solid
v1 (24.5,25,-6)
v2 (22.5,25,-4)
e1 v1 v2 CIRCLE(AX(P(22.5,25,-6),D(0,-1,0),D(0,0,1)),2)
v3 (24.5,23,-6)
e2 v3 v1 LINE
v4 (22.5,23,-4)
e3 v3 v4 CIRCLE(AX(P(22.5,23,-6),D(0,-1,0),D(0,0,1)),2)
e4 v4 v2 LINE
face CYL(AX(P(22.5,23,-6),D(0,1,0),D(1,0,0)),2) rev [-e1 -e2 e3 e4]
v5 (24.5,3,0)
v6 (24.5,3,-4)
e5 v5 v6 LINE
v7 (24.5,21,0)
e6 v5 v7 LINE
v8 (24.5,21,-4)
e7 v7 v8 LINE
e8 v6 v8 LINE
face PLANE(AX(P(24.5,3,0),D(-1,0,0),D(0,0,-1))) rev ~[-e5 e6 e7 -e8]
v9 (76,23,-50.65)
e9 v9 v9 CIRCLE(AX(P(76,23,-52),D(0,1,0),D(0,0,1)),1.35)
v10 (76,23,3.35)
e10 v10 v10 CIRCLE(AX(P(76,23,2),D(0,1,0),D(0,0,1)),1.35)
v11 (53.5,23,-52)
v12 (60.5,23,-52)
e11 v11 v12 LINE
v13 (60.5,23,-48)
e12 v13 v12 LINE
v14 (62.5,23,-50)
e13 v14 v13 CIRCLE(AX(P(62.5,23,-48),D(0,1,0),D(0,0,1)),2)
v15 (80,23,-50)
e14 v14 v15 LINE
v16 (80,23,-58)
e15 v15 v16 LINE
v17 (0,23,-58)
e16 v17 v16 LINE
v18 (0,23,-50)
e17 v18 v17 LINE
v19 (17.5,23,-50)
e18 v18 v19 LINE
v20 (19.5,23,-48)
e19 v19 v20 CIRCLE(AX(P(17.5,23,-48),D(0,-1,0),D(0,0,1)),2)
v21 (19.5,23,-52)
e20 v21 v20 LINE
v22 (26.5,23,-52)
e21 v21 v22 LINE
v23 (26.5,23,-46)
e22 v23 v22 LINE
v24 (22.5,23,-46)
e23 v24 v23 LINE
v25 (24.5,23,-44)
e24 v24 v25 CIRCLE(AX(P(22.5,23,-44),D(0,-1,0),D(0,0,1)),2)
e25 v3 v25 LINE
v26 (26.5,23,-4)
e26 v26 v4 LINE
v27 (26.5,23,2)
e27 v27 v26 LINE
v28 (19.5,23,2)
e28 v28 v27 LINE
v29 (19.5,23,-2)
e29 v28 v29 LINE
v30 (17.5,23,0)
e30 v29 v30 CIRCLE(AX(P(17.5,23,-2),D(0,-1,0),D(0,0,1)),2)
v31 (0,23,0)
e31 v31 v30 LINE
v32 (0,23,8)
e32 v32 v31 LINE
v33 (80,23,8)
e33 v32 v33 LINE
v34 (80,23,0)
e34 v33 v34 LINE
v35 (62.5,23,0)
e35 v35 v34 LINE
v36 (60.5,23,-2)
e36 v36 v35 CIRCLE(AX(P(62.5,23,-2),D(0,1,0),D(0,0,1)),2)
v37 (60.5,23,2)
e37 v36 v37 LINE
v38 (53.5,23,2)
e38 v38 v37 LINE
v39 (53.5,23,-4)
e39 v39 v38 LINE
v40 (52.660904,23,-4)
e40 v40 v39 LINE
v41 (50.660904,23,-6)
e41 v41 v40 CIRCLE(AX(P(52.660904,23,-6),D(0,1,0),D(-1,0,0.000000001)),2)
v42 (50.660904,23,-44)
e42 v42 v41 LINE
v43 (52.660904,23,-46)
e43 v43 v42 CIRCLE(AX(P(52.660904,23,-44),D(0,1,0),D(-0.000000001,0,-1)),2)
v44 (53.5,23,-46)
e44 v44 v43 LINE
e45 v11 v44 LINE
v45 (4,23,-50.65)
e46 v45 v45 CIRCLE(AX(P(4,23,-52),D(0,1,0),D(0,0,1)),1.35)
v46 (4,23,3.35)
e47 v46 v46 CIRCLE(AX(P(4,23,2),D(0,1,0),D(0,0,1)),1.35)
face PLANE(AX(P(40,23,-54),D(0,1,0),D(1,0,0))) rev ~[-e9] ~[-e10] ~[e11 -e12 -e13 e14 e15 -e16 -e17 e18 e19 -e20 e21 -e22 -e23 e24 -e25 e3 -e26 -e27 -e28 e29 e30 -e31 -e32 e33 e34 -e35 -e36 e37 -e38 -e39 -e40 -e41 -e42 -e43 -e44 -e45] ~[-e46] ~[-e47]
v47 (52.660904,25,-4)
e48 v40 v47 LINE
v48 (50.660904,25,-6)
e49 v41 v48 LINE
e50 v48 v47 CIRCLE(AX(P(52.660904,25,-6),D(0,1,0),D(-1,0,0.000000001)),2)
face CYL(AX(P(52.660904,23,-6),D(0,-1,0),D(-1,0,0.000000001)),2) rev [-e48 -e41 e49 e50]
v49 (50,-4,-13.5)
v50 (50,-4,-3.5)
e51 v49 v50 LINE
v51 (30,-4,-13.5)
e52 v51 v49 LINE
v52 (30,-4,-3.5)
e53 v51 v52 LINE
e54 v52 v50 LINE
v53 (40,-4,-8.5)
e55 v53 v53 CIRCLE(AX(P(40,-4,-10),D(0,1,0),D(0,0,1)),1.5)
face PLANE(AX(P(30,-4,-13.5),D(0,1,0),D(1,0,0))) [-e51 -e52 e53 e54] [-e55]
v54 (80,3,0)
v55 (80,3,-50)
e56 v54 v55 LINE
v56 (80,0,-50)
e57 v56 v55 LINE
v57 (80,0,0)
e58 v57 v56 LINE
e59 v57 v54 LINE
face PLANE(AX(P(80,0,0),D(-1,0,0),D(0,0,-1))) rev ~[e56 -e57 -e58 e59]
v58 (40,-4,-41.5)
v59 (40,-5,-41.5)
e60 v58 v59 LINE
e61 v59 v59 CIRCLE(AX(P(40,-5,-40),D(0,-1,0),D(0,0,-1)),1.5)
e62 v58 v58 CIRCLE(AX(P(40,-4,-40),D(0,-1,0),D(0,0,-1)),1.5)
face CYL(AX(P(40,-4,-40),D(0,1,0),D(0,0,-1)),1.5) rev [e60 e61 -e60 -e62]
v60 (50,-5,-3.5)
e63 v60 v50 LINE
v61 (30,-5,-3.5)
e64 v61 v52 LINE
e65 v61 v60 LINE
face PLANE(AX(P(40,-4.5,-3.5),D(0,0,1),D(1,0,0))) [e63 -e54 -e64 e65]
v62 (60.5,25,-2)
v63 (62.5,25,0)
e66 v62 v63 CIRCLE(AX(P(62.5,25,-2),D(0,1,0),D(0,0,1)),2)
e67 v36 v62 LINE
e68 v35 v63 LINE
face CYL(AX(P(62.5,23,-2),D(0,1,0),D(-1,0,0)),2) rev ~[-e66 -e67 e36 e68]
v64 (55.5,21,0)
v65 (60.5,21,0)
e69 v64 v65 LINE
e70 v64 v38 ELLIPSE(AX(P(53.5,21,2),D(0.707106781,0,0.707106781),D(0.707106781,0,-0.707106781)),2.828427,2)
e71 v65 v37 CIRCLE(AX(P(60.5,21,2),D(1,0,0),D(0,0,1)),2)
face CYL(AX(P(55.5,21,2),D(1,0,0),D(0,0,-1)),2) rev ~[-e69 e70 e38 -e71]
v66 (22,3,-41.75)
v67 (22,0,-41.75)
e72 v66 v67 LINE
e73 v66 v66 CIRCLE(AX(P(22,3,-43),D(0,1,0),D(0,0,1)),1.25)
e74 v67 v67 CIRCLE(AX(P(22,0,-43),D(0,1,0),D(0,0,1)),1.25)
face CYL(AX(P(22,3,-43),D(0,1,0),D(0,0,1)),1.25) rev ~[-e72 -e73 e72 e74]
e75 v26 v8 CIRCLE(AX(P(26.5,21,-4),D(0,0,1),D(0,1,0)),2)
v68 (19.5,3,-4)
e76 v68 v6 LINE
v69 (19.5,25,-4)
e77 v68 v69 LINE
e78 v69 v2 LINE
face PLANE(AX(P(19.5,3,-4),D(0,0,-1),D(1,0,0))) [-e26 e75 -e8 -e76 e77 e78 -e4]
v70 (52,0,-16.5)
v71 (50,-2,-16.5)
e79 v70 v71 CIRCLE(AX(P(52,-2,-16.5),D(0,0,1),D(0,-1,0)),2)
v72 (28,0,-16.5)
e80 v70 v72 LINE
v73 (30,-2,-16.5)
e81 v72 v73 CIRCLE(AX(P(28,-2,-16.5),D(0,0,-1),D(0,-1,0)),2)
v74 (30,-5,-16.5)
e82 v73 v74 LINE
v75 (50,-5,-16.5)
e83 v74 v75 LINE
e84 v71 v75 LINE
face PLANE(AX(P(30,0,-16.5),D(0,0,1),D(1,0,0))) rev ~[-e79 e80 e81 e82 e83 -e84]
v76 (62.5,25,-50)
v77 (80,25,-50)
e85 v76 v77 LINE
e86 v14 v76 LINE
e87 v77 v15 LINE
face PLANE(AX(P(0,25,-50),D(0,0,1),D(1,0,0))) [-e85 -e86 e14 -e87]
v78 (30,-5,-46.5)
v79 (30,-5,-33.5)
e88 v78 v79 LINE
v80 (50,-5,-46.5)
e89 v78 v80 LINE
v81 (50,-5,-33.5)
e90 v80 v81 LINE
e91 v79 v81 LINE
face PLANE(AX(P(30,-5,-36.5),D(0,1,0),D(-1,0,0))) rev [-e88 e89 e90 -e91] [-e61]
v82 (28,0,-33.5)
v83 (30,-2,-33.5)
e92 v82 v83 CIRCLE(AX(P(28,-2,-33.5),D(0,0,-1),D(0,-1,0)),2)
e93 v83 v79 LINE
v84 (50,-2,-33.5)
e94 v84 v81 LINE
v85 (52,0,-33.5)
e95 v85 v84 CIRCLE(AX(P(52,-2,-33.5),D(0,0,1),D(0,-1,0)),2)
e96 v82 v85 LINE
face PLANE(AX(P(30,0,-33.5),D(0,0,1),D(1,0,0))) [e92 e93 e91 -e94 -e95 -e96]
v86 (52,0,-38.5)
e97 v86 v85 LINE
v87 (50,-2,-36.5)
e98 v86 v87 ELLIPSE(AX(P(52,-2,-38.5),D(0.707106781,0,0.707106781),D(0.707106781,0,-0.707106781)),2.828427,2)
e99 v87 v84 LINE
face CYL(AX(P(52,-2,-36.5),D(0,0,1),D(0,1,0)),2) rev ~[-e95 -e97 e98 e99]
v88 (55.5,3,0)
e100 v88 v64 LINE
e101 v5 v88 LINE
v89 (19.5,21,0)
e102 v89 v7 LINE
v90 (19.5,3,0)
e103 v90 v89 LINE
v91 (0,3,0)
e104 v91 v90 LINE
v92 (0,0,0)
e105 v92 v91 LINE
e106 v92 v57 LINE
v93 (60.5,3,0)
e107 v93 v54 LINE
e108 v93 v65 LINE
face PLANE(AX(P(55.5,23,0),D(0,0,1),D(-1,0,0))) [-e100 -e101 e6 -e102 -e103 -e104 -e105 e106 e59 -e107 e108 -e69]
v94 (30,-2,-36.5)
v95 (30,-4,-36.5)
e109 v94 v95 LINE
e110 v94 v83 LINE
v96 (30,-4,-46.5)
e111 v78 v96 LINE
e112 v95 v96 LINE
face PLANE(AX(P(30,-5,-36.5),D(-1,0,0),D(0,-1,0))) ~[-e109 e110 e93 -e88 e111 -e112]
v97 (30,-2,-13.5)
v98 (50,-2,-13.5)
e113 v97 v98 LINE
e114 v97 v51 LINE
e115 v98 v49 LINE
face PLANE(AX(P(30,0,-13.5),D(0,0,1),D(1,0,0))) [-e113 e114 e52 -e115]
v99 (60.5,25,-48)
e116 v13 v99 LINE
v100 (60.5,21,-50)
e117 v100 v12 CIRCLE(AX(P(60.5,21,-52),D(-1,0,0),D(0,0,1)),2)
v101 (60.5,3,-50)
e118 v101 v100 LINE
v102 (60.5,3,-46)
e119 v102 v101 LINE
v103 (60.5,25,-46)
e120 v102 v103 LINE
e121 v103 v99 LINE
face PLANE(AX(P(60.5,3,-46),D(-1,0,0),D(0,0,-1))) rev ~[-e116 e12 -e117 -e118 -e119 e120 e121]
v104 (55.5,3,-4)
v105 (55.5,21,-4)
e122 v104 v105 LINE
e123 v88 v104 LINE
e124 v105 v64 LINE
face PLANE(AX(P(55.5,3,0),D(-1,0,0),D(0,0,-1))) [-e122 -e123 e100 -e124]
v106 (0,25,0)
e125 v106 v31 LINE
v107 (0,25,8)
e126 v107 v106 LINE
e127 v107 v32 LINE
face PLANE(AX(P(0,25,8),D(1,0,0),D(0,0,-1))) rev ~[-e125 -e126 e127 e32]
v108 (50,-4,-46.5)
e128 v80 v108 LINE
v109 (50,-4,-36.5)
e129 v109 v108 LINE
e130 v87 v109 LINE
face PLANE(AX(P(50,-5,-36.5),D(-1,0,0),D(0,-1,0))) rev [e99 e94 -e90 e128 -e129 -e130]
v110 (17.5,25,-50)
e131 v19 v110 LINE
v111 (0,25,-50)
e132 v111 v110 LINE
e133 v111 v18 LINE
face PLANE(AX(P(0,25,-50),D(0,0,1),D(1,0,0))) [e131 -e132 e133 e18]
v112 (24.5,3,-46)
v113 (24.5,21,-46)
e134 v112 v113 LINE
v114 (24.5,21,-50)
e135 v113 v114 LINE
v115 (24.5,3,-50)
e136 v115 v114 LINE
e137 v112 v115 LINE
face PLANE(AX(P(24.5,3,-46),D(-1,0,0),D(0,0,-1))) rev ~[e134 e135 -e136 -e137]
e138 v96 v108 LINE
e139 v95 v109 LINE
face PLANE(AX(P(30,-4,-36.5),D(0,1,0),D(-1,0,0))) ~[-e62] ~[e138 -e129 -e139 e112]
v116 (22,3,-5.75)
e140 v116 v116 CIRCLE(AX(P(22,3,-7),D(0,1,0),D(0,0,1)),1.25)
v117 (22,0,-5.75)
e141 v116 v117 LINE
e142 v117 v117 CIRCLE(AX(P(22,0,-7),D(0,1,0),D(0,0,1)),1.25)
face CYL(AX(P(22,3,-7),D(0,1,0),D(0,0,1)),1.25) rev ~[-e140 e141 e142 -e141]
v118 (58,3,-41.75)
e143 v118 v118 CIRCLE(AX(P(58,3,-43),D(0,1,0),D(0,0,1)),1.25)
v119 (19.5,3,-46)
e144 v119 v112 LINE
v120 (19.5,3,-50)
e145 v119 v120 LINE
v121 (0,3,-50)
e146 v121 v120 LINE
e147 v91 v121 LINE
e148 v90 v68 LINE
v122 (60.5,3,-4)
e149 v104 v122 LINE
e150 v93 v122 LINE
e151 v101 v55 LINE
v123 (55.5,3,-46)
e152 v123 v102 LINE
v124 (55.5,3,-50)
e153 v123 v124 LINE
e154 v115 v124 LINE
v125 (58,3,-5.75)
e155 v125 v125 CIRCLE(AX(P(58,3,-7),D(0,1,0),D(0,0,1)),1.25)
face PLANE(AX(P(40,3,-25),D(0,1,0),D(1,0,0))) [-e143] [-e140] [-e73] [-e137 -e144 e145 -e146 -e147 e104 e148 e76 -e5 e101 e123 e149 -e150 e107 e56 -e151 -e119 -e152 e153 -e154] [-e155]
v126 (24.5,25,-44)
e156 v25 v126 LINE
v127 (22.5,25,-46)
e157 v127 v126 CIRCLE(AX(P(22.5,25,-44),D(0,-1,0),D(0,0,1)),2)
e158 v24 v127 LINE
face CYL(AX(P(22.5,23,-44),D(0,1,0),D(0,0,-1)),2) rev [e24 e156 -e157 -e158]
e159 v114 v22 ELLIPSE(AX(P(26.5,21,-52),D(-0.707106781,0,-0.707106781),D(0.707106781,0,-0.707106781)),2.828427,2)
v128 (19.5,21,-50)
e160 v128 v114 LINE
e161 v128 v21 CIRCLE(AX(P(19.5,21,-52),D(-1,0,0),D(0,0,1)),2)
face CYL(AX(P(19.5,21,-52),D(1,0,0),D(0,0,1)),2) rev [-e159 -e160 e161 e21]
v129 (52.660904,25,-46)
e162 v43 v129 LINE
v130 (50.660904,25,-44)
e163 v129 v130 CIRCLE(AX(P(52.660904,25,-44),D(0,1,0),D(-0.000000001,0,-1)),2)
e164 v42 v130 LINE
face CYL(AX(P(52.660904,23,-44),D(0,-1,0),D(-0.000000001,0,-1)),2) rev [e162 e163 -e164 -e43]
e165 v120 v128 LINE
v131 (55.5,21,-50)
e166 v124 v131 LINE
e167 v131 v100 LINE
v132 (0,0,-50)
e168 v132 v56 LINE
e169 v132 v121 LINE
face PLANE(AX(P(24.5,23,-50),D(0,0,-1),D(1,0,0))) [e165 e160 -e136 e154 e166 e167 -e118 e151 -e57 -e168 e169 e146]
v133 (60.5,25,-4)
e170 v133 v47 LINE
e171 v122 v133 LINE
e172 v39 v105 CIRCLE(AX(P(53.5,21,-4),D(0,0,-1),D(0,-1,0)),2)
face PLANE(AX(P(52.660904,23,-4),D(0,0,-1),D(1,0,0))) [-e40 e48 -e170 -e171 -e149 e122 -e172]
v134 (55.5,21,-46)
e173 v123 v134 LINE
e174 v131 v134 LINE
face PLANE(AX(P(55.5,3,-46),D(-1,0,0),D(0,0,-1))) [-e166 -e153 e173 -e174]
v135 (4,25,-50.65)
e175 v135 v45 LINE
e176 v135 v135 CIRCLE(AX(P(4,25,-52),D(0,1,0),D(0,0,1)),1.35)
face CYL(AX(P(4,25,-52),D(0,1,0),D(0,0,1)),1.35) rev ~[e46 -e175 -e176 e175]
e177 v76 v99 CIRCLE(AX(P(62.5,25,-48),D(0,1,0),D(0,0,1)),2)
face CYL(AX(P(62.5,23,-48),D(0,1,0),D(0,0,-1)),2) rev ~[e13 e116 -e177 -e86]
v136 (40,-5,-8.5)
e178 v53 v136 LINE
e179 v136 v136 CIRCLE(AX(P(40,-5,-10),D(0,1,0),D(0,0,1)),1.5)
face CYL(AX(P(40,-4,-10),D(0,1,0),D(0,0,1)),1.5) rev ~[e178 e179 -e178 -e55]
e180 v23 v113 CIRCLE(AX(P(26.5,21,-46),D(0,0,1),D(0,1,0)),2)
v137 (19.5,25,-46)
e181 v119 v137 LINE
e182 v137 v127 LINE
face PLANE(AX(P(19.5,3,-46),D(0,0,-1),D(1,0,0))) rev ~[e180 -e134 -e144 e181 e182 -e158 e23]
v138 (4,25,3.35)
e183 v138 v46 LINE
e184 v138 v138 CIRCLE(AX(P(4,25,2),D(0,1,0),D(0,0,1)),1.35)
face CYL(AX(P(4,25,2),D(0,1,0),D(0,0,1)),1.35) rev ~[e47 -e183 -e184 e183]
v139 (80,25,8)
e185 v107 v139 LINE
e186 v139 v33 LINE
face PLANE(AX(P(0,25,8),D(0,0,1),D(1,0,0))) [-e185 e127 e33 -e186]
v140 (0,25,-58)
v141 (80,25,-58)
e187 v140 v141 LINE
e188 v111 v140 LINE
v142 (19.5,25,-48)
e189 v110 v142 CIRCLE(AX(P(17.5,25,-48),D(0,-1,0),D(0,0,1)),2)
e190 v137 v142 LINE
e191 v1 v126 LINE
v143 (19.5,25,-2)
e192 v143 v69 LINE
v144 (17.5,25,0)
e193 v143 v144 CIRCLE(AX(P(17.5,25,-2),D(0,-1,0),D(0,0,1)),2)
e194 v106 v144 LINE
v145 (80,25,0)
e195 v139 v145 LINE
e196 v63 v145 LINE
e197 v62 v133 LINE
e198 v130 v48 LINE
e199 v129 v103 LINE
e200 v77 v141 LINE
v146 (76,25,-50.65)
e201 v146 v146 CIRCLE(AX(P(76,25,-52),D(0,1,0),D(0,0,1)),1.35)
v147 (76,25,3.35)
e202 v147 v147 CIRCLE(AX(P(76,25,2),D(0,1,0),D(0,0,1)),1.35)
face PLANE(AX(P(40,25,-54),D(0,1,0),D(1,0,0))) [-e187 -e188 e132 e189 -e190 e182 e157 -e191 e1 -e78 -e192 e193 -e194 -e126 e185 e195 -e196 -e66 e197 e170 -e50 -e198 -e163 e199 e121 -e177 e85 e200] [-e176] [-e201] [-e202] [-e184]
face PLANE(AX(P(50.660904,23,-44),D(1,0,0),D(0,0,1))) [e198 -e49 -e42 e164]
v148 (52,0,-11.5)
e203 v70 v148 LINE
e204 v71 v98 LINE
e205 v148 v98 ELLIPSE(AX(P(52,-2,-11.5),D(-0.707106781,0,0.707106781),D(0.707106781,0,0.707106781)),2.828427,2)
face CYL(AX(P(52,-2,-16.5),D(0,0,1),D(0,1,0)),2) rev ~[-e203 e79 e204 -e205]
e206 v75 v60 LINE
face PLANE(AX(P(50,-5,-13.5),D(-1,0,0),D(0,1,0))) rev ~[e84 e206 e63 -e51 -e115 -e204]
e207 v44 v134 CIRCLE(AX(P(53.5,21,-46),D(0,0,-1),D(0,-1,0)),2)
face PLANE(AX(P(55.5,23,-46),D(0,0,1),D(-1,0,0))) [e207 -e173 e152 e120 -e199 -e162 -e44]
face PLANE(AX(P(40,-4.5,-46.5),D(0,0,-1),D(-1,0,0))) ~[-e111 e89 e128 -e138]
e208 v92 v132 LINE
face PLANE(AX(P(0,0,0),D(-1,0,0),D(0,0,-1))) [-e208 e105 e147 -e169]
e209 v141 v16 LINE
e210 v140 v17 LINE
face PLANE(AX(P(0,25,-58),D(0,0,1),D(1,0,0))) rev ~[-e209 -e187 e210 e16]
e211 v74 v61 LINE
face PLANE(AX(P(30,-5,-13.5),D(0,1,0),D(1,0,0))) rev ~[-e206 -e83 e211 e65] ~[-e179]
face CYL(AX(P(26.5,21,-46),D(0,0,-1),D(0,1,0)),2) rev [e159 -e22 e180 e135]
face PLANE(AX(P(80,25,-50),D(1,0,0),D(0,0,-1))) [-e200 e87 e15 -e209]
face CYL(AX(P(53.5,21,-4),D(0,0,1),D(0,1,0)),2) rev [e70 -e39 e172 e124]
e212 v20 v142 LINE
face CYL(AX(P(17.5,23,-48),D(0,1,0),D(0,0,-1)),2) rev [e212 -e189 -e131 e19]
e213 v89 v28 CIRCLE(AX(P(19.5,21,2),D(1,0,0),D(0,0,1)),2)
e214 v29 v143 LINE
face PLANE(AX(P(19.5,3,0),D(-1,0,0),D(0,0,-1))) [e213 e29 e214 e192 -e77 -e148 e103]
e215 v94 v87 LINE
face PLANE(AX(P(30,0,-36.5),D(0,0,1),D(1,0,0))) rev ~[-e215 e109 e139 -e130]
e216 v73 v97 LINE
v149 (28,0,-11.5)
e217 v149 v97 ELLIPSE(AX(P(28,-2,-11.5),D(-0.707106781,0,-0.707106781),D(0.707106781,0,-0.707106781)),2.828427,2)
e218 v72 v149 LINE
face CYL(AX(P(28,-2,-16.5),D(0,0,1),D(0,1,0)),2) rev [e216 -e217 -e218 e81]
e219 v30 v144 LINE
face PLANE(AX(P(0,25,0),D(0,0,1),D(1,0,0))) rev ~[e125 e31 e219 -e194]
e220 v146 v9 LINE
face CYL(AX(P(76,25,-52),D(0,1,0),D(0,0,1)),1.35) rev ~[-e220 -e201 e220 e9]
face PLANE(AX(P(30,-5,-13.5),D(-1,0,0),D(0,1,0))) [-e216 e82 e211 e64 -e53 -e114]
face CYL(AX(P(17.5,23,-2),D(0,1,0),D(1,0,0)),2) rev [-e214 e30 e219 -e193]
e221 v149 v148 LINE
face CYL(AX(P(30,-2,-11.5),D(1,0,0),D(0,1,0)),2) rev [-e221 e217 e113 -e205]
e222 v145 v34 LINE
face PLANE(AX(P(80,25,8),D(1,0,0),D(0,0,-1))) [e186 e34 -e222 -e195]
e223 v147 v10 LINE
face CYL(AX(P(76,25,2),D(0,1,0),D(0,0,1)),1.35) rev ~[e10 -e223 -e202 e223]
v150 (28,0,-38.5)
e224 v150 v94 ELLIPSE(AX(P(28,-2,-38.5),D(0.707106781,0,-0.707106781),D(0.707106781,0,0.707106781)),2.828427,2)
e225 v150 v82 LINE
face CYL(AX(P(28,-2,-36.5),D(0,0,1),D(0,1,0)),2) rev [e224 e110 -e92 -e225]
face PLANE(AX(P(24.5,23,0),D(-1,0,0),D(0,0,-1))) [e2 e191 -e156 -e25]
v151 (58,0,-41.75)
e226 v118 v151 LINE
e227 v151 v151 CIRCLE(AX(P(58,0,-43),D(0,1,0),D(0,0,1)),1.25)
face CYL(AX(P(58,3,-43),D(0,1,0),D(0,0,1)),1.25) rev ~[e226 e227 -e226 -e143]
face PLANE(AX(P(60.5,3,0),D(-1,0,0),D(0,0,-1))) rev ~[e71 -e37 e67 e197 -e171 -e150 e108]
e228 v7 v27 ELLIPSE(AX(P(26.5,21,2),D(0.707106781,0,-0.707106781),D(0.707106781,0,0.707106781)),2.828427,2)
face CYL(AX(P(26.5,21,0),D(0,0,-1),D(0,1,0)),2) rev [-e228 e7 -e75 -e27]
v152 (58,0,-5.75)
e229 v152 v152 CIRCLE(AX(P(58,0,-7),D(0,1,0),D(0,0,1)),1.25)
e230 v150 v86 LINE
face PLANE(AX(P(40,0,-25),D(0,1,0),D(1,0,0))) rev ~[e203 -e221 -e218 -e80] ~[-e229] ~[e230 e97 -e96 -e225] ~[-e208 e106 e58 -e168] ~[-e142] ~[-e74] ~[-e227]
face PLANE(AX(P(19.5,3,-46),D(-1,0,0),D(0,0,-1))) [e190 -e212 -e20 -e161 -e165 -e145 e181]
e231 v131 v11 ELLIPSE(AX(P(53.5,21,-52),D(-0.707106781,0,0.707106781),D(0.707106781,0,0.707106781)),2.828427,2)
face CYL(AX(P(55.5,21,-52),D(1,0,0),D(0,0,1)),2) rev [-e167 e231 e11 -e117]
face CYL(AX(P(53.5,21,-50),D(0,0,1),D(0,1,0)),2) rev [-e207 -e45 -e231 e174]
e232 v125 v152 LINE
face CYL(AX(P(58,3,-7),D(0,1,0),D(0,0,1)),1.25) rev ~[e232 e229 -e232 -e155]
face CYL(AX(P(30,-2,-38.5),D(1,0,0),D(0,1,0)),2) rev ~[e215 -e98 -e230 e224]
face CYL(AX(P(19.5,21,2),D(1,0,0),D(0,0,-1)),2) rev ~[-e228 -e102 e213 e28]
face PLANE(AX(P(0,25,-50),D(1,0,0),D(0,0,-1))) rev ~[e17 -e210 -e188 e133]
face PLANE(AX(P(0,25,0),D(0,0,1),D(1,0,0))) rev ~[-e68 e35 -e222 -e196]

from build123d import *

# Parameters (mm, degrees)
SKETCH1_W           = 80
SKETCH1_H           = 50
BOSS_EXTRUDE1_DEPTH = 3
SKETCH2_R           = 1.25
CUT_EXTRUDE1_DEPTH  = 3
SKETCH3_W           = 5
SKETCH3_H           = 4
BOSS_EXTRUDE2_DEPTH = 22
BOSS_EXTRUDE3_DEPTH = 2
FILLET1_R           = 2
SKETCH8_W           = 80
SKETCH8_H           = 8
BOSS_EXTRUDE4_DEPTH = 2
FILLET2_R           = 2
SKETCH6_R           = 1.35
CUT_EXTRUDE2_DEPTH  = 2
SKETCH12_W          = 20
SKETCH12_H          = 3
BOSS_EXTRUDE6_DEPTH = 5
SKETCH13_W          = 20
SKETCH13_H          = 1
BOSS_EXTRUDE7_DEPTH = 10
SKETCH14_R          = 1.5
CUT_EXTRUDE5_DEPTH  = 1
FILLET3_R           = 2
FILLET4_R           = 2


with BuildPart() as part:
    # Sketch1 → Boss-Extrude1 (new body)
    with BuildSketch(Plane(origin=(0, 0, 0), x_dir=(1, 0, 0), z_dir=(0, 1, 0))):
        with Locations((40, 25)):
            Rectangle(SKETCH1_W, SKETCH1_H)
    extrude(amount=BOSS_EXTRUDE1_DEPTH)

    # Sketch2 → Cut-Extrude1 (cut)
    with BuildSketch(Plane(origin=(0, 3, 0), x_dir=(1, 0, 0), z_dir=(0, 1, 0))):
        with Locations(Location((22, 43, 0), (0, 0, 270))):
            Circle(SKETCH2_R)
        with Locations(Location((58, 43, 0), (0, 0, 270))):
            Circle(SKETCH2_R)
        with Locations(Location((22, 7, 0), (0, 0, 270))):
            Circle(SKETCH2_R)
        with Locations(Location((58, 7, 0), (0, 0, 270))):
            Circle(SKETCH2_R)
    extrude(amount=-CUT_EXTRUDE1_DEPTH, mode=Mode.SUBTRACT)

    # Sketch3 → Boss-Extrude2 (add)
    with BuildSketch(Plane(origin=(0, 3, 0), x_dir=(1, 0, 0), z_dir=(0, 1, 0))):
        with Locations((22, 2)):
            Rectangle(SKETCH3_W, SKETCH3_H)
        with Locations((22, 48)):
            Rectangle(SKETCH3_W, SKETCH3_H)
        with Locations((58, 48)):
            Rectangle(SKETCH3_W, SKETCH3_H)
        with Locations((58, 2)):
            Rectangle(SKETCH3_W, SKETCH3_H)
    extrude(amount=BOSS_EXTRUDE2_DEPTH)

    # Sketch5 → Boss-Extrude3 (add)
    with BuildSketch(Plane(origin=(0, 23, 0), x_dir=(1, 0, 0), z_dir=(0, 1, 0))):
        with BuildLine():
            Line((24.5, 50), (55.5, 50))
            Line((55.5, 50), (55.5, 46))
            Line((55.5, 46), (52.660903874, 46))
            ThreePointArc((52.660903874, 46), (51.246690312, 45.414213562), (50.660903874, 44))
            Line((50.660903874, 44), (50.660903874, 6))
            ThreePointArc((50.660903874, 6), (51.246690312, 4.585786438), (52.660903874, 4))
            Line((52.660903874, 4), (55.5, 4))
            Line((55.5, 4), (55.5, 0))
            Line((55.5, 0), (24.5, 0))
            Line((24.5, 0), (24.5, 4))
            Line((24.5, 4), (24.5, 46))
            Line((24.5, 46), (24.5, 50))
        make_face()
    extrude(amount=BOSS_EXTRUDE3_DEPTH)

    # Fillet1
    fillet1_edges = [part.edges().sort_by_distance(p)[0] for p in [
        (24.5, 24, -4),
        (24.5, 24, -46),
    ]]
    fillet(fillet1_edges, radius=FILLET1_R)

    # Sketch8 → Boss-Extrude4 (add)
    with BuildSketch(Plane(origin=(0, 25, 0), x_dir=(1, 0, 0), z_dir=(0, 1, 0))):
        with Locations((40, 54)):
            Rectangle(SKETCH8_W, SKETCH8_H)
        with Locations((40, -4)):
            Rectangle(SKETCH8_W, SKETCH8_H)
    extrude(amount=-BOSS_EXTRUDE4_DEPTH)

    # Fillet2
    fillet2_edges = [part.edges().sort_by_distance(p)[0] for p in [
        (19.5, 24, 0),
        (60.5, 24, 0),
        (60.5, 24, -50),
        (19.5, 24, -50),
    ]]
    fillet(fillet2_edges, radius=FILLET2_R)

    # Sketch6 → Cut-Extrude2 (cut)
    with BuildSketch(Plane(origin=(0, 25, 0), x_dir=(1, 0, 0), z_dir=(0, 1, 0))):
        with Locations(Location((4, -2, 0), (0, 0, 270))):
            Circle(SKETCH6_R)
        with Locations(Location((4, 52, 0), (0, 0, 270))):
            Circle(SKETCH6_R)
        with Locations(Location((76, 52, 0), (0, 0, 270))):
            Circle(SKETCH6_R)
        with Locations(Location((76, -2, 0), (0, 0, 270))):
            Circle(SKETCH6_R)
    extrude(amount=-CUT_EXTRUDE2_DEPTH, mode=Mode.SUBTRACT)

    # Sketch12 → Boss-Extrude6 (add)
    with BuildSketch(Plane.XZ):
        with Locations((40, -15)):
            Rectangle(SKETCH12_W, SKETCH12_H)
        with Locations((40, -35)):
            Rectangle(SKETCH12_W, SKETCH12_H)
    extrude(amount=BOSS_EXTRUDE6_DEPTH)

    # Sketch13 → Boss-Extrude7 (add)
    with BuildSketch(Plane.XY.offset(-13.5)):
        with Locations((40, -4.5)):
            Rectangle(SKETCH13_W, SKETCH13_H)
    boss_extrude7 = extrude(amount=BOSS_EXTRUDE7_DEPTH)

    # Sketch14 → Cut-Extrude5 (cut)
    with BuildSketch(Plane(origin=(0, -4, 0), x_dir=(1, 0, 0), z_dir=(0, 1, 0))):
        with Locations(Location((40, 10, 0), (0, 0, 270))):
            Circle(SKETCH14_R)
    cut_extrude5 = extrude(amount=-CUT_EXTRUDE5_DEPTH, mode=Mode.SUBTRACT)

    # Mirror1: Boss-Extrude7, Cut-Extrude5 across plane
    add(boss_extrude7.mirror(Plane(origin=(0, 0, -25), x_dir=(1, 0, 0), z_dir=(0, 0, -1))))
    add(cut_extrude5.mirror(Plane(origin=(0, 0, -25), x_dir=(1, 0, 0), z_dir=(0, 0, -1))), mode=Mode.SUBTRACT)

    # Fillet3
    fillet3_edges = [part.edges().sort_by_distance(p)[0] for p in [
        (58, 23, -50),
        (22, 23, -50),
        (22, 23, 0),
        (58, 23, 0),
        (24.5, 23, -2),
        (24.5, 23, -48),
        (55.5, 23, -2),
        (55.5, 23, -48),
    ]]
    fillet(fillet3_edges, radius=FILLET3_R)

    # Fillet4
    fillet4_edges = [part.edges().sort_by_distance(p)[0] for p in [
        (30, 0, -35),
        (40, 0, -36.5),
        (50, 0, -35),
        (50, 0, -15),
        (40, 0, -13.5),
        (30, 0, -15),
    ]]
    fillet(fillet4_edges, radius=FILLET4_R)


solid = part.part
